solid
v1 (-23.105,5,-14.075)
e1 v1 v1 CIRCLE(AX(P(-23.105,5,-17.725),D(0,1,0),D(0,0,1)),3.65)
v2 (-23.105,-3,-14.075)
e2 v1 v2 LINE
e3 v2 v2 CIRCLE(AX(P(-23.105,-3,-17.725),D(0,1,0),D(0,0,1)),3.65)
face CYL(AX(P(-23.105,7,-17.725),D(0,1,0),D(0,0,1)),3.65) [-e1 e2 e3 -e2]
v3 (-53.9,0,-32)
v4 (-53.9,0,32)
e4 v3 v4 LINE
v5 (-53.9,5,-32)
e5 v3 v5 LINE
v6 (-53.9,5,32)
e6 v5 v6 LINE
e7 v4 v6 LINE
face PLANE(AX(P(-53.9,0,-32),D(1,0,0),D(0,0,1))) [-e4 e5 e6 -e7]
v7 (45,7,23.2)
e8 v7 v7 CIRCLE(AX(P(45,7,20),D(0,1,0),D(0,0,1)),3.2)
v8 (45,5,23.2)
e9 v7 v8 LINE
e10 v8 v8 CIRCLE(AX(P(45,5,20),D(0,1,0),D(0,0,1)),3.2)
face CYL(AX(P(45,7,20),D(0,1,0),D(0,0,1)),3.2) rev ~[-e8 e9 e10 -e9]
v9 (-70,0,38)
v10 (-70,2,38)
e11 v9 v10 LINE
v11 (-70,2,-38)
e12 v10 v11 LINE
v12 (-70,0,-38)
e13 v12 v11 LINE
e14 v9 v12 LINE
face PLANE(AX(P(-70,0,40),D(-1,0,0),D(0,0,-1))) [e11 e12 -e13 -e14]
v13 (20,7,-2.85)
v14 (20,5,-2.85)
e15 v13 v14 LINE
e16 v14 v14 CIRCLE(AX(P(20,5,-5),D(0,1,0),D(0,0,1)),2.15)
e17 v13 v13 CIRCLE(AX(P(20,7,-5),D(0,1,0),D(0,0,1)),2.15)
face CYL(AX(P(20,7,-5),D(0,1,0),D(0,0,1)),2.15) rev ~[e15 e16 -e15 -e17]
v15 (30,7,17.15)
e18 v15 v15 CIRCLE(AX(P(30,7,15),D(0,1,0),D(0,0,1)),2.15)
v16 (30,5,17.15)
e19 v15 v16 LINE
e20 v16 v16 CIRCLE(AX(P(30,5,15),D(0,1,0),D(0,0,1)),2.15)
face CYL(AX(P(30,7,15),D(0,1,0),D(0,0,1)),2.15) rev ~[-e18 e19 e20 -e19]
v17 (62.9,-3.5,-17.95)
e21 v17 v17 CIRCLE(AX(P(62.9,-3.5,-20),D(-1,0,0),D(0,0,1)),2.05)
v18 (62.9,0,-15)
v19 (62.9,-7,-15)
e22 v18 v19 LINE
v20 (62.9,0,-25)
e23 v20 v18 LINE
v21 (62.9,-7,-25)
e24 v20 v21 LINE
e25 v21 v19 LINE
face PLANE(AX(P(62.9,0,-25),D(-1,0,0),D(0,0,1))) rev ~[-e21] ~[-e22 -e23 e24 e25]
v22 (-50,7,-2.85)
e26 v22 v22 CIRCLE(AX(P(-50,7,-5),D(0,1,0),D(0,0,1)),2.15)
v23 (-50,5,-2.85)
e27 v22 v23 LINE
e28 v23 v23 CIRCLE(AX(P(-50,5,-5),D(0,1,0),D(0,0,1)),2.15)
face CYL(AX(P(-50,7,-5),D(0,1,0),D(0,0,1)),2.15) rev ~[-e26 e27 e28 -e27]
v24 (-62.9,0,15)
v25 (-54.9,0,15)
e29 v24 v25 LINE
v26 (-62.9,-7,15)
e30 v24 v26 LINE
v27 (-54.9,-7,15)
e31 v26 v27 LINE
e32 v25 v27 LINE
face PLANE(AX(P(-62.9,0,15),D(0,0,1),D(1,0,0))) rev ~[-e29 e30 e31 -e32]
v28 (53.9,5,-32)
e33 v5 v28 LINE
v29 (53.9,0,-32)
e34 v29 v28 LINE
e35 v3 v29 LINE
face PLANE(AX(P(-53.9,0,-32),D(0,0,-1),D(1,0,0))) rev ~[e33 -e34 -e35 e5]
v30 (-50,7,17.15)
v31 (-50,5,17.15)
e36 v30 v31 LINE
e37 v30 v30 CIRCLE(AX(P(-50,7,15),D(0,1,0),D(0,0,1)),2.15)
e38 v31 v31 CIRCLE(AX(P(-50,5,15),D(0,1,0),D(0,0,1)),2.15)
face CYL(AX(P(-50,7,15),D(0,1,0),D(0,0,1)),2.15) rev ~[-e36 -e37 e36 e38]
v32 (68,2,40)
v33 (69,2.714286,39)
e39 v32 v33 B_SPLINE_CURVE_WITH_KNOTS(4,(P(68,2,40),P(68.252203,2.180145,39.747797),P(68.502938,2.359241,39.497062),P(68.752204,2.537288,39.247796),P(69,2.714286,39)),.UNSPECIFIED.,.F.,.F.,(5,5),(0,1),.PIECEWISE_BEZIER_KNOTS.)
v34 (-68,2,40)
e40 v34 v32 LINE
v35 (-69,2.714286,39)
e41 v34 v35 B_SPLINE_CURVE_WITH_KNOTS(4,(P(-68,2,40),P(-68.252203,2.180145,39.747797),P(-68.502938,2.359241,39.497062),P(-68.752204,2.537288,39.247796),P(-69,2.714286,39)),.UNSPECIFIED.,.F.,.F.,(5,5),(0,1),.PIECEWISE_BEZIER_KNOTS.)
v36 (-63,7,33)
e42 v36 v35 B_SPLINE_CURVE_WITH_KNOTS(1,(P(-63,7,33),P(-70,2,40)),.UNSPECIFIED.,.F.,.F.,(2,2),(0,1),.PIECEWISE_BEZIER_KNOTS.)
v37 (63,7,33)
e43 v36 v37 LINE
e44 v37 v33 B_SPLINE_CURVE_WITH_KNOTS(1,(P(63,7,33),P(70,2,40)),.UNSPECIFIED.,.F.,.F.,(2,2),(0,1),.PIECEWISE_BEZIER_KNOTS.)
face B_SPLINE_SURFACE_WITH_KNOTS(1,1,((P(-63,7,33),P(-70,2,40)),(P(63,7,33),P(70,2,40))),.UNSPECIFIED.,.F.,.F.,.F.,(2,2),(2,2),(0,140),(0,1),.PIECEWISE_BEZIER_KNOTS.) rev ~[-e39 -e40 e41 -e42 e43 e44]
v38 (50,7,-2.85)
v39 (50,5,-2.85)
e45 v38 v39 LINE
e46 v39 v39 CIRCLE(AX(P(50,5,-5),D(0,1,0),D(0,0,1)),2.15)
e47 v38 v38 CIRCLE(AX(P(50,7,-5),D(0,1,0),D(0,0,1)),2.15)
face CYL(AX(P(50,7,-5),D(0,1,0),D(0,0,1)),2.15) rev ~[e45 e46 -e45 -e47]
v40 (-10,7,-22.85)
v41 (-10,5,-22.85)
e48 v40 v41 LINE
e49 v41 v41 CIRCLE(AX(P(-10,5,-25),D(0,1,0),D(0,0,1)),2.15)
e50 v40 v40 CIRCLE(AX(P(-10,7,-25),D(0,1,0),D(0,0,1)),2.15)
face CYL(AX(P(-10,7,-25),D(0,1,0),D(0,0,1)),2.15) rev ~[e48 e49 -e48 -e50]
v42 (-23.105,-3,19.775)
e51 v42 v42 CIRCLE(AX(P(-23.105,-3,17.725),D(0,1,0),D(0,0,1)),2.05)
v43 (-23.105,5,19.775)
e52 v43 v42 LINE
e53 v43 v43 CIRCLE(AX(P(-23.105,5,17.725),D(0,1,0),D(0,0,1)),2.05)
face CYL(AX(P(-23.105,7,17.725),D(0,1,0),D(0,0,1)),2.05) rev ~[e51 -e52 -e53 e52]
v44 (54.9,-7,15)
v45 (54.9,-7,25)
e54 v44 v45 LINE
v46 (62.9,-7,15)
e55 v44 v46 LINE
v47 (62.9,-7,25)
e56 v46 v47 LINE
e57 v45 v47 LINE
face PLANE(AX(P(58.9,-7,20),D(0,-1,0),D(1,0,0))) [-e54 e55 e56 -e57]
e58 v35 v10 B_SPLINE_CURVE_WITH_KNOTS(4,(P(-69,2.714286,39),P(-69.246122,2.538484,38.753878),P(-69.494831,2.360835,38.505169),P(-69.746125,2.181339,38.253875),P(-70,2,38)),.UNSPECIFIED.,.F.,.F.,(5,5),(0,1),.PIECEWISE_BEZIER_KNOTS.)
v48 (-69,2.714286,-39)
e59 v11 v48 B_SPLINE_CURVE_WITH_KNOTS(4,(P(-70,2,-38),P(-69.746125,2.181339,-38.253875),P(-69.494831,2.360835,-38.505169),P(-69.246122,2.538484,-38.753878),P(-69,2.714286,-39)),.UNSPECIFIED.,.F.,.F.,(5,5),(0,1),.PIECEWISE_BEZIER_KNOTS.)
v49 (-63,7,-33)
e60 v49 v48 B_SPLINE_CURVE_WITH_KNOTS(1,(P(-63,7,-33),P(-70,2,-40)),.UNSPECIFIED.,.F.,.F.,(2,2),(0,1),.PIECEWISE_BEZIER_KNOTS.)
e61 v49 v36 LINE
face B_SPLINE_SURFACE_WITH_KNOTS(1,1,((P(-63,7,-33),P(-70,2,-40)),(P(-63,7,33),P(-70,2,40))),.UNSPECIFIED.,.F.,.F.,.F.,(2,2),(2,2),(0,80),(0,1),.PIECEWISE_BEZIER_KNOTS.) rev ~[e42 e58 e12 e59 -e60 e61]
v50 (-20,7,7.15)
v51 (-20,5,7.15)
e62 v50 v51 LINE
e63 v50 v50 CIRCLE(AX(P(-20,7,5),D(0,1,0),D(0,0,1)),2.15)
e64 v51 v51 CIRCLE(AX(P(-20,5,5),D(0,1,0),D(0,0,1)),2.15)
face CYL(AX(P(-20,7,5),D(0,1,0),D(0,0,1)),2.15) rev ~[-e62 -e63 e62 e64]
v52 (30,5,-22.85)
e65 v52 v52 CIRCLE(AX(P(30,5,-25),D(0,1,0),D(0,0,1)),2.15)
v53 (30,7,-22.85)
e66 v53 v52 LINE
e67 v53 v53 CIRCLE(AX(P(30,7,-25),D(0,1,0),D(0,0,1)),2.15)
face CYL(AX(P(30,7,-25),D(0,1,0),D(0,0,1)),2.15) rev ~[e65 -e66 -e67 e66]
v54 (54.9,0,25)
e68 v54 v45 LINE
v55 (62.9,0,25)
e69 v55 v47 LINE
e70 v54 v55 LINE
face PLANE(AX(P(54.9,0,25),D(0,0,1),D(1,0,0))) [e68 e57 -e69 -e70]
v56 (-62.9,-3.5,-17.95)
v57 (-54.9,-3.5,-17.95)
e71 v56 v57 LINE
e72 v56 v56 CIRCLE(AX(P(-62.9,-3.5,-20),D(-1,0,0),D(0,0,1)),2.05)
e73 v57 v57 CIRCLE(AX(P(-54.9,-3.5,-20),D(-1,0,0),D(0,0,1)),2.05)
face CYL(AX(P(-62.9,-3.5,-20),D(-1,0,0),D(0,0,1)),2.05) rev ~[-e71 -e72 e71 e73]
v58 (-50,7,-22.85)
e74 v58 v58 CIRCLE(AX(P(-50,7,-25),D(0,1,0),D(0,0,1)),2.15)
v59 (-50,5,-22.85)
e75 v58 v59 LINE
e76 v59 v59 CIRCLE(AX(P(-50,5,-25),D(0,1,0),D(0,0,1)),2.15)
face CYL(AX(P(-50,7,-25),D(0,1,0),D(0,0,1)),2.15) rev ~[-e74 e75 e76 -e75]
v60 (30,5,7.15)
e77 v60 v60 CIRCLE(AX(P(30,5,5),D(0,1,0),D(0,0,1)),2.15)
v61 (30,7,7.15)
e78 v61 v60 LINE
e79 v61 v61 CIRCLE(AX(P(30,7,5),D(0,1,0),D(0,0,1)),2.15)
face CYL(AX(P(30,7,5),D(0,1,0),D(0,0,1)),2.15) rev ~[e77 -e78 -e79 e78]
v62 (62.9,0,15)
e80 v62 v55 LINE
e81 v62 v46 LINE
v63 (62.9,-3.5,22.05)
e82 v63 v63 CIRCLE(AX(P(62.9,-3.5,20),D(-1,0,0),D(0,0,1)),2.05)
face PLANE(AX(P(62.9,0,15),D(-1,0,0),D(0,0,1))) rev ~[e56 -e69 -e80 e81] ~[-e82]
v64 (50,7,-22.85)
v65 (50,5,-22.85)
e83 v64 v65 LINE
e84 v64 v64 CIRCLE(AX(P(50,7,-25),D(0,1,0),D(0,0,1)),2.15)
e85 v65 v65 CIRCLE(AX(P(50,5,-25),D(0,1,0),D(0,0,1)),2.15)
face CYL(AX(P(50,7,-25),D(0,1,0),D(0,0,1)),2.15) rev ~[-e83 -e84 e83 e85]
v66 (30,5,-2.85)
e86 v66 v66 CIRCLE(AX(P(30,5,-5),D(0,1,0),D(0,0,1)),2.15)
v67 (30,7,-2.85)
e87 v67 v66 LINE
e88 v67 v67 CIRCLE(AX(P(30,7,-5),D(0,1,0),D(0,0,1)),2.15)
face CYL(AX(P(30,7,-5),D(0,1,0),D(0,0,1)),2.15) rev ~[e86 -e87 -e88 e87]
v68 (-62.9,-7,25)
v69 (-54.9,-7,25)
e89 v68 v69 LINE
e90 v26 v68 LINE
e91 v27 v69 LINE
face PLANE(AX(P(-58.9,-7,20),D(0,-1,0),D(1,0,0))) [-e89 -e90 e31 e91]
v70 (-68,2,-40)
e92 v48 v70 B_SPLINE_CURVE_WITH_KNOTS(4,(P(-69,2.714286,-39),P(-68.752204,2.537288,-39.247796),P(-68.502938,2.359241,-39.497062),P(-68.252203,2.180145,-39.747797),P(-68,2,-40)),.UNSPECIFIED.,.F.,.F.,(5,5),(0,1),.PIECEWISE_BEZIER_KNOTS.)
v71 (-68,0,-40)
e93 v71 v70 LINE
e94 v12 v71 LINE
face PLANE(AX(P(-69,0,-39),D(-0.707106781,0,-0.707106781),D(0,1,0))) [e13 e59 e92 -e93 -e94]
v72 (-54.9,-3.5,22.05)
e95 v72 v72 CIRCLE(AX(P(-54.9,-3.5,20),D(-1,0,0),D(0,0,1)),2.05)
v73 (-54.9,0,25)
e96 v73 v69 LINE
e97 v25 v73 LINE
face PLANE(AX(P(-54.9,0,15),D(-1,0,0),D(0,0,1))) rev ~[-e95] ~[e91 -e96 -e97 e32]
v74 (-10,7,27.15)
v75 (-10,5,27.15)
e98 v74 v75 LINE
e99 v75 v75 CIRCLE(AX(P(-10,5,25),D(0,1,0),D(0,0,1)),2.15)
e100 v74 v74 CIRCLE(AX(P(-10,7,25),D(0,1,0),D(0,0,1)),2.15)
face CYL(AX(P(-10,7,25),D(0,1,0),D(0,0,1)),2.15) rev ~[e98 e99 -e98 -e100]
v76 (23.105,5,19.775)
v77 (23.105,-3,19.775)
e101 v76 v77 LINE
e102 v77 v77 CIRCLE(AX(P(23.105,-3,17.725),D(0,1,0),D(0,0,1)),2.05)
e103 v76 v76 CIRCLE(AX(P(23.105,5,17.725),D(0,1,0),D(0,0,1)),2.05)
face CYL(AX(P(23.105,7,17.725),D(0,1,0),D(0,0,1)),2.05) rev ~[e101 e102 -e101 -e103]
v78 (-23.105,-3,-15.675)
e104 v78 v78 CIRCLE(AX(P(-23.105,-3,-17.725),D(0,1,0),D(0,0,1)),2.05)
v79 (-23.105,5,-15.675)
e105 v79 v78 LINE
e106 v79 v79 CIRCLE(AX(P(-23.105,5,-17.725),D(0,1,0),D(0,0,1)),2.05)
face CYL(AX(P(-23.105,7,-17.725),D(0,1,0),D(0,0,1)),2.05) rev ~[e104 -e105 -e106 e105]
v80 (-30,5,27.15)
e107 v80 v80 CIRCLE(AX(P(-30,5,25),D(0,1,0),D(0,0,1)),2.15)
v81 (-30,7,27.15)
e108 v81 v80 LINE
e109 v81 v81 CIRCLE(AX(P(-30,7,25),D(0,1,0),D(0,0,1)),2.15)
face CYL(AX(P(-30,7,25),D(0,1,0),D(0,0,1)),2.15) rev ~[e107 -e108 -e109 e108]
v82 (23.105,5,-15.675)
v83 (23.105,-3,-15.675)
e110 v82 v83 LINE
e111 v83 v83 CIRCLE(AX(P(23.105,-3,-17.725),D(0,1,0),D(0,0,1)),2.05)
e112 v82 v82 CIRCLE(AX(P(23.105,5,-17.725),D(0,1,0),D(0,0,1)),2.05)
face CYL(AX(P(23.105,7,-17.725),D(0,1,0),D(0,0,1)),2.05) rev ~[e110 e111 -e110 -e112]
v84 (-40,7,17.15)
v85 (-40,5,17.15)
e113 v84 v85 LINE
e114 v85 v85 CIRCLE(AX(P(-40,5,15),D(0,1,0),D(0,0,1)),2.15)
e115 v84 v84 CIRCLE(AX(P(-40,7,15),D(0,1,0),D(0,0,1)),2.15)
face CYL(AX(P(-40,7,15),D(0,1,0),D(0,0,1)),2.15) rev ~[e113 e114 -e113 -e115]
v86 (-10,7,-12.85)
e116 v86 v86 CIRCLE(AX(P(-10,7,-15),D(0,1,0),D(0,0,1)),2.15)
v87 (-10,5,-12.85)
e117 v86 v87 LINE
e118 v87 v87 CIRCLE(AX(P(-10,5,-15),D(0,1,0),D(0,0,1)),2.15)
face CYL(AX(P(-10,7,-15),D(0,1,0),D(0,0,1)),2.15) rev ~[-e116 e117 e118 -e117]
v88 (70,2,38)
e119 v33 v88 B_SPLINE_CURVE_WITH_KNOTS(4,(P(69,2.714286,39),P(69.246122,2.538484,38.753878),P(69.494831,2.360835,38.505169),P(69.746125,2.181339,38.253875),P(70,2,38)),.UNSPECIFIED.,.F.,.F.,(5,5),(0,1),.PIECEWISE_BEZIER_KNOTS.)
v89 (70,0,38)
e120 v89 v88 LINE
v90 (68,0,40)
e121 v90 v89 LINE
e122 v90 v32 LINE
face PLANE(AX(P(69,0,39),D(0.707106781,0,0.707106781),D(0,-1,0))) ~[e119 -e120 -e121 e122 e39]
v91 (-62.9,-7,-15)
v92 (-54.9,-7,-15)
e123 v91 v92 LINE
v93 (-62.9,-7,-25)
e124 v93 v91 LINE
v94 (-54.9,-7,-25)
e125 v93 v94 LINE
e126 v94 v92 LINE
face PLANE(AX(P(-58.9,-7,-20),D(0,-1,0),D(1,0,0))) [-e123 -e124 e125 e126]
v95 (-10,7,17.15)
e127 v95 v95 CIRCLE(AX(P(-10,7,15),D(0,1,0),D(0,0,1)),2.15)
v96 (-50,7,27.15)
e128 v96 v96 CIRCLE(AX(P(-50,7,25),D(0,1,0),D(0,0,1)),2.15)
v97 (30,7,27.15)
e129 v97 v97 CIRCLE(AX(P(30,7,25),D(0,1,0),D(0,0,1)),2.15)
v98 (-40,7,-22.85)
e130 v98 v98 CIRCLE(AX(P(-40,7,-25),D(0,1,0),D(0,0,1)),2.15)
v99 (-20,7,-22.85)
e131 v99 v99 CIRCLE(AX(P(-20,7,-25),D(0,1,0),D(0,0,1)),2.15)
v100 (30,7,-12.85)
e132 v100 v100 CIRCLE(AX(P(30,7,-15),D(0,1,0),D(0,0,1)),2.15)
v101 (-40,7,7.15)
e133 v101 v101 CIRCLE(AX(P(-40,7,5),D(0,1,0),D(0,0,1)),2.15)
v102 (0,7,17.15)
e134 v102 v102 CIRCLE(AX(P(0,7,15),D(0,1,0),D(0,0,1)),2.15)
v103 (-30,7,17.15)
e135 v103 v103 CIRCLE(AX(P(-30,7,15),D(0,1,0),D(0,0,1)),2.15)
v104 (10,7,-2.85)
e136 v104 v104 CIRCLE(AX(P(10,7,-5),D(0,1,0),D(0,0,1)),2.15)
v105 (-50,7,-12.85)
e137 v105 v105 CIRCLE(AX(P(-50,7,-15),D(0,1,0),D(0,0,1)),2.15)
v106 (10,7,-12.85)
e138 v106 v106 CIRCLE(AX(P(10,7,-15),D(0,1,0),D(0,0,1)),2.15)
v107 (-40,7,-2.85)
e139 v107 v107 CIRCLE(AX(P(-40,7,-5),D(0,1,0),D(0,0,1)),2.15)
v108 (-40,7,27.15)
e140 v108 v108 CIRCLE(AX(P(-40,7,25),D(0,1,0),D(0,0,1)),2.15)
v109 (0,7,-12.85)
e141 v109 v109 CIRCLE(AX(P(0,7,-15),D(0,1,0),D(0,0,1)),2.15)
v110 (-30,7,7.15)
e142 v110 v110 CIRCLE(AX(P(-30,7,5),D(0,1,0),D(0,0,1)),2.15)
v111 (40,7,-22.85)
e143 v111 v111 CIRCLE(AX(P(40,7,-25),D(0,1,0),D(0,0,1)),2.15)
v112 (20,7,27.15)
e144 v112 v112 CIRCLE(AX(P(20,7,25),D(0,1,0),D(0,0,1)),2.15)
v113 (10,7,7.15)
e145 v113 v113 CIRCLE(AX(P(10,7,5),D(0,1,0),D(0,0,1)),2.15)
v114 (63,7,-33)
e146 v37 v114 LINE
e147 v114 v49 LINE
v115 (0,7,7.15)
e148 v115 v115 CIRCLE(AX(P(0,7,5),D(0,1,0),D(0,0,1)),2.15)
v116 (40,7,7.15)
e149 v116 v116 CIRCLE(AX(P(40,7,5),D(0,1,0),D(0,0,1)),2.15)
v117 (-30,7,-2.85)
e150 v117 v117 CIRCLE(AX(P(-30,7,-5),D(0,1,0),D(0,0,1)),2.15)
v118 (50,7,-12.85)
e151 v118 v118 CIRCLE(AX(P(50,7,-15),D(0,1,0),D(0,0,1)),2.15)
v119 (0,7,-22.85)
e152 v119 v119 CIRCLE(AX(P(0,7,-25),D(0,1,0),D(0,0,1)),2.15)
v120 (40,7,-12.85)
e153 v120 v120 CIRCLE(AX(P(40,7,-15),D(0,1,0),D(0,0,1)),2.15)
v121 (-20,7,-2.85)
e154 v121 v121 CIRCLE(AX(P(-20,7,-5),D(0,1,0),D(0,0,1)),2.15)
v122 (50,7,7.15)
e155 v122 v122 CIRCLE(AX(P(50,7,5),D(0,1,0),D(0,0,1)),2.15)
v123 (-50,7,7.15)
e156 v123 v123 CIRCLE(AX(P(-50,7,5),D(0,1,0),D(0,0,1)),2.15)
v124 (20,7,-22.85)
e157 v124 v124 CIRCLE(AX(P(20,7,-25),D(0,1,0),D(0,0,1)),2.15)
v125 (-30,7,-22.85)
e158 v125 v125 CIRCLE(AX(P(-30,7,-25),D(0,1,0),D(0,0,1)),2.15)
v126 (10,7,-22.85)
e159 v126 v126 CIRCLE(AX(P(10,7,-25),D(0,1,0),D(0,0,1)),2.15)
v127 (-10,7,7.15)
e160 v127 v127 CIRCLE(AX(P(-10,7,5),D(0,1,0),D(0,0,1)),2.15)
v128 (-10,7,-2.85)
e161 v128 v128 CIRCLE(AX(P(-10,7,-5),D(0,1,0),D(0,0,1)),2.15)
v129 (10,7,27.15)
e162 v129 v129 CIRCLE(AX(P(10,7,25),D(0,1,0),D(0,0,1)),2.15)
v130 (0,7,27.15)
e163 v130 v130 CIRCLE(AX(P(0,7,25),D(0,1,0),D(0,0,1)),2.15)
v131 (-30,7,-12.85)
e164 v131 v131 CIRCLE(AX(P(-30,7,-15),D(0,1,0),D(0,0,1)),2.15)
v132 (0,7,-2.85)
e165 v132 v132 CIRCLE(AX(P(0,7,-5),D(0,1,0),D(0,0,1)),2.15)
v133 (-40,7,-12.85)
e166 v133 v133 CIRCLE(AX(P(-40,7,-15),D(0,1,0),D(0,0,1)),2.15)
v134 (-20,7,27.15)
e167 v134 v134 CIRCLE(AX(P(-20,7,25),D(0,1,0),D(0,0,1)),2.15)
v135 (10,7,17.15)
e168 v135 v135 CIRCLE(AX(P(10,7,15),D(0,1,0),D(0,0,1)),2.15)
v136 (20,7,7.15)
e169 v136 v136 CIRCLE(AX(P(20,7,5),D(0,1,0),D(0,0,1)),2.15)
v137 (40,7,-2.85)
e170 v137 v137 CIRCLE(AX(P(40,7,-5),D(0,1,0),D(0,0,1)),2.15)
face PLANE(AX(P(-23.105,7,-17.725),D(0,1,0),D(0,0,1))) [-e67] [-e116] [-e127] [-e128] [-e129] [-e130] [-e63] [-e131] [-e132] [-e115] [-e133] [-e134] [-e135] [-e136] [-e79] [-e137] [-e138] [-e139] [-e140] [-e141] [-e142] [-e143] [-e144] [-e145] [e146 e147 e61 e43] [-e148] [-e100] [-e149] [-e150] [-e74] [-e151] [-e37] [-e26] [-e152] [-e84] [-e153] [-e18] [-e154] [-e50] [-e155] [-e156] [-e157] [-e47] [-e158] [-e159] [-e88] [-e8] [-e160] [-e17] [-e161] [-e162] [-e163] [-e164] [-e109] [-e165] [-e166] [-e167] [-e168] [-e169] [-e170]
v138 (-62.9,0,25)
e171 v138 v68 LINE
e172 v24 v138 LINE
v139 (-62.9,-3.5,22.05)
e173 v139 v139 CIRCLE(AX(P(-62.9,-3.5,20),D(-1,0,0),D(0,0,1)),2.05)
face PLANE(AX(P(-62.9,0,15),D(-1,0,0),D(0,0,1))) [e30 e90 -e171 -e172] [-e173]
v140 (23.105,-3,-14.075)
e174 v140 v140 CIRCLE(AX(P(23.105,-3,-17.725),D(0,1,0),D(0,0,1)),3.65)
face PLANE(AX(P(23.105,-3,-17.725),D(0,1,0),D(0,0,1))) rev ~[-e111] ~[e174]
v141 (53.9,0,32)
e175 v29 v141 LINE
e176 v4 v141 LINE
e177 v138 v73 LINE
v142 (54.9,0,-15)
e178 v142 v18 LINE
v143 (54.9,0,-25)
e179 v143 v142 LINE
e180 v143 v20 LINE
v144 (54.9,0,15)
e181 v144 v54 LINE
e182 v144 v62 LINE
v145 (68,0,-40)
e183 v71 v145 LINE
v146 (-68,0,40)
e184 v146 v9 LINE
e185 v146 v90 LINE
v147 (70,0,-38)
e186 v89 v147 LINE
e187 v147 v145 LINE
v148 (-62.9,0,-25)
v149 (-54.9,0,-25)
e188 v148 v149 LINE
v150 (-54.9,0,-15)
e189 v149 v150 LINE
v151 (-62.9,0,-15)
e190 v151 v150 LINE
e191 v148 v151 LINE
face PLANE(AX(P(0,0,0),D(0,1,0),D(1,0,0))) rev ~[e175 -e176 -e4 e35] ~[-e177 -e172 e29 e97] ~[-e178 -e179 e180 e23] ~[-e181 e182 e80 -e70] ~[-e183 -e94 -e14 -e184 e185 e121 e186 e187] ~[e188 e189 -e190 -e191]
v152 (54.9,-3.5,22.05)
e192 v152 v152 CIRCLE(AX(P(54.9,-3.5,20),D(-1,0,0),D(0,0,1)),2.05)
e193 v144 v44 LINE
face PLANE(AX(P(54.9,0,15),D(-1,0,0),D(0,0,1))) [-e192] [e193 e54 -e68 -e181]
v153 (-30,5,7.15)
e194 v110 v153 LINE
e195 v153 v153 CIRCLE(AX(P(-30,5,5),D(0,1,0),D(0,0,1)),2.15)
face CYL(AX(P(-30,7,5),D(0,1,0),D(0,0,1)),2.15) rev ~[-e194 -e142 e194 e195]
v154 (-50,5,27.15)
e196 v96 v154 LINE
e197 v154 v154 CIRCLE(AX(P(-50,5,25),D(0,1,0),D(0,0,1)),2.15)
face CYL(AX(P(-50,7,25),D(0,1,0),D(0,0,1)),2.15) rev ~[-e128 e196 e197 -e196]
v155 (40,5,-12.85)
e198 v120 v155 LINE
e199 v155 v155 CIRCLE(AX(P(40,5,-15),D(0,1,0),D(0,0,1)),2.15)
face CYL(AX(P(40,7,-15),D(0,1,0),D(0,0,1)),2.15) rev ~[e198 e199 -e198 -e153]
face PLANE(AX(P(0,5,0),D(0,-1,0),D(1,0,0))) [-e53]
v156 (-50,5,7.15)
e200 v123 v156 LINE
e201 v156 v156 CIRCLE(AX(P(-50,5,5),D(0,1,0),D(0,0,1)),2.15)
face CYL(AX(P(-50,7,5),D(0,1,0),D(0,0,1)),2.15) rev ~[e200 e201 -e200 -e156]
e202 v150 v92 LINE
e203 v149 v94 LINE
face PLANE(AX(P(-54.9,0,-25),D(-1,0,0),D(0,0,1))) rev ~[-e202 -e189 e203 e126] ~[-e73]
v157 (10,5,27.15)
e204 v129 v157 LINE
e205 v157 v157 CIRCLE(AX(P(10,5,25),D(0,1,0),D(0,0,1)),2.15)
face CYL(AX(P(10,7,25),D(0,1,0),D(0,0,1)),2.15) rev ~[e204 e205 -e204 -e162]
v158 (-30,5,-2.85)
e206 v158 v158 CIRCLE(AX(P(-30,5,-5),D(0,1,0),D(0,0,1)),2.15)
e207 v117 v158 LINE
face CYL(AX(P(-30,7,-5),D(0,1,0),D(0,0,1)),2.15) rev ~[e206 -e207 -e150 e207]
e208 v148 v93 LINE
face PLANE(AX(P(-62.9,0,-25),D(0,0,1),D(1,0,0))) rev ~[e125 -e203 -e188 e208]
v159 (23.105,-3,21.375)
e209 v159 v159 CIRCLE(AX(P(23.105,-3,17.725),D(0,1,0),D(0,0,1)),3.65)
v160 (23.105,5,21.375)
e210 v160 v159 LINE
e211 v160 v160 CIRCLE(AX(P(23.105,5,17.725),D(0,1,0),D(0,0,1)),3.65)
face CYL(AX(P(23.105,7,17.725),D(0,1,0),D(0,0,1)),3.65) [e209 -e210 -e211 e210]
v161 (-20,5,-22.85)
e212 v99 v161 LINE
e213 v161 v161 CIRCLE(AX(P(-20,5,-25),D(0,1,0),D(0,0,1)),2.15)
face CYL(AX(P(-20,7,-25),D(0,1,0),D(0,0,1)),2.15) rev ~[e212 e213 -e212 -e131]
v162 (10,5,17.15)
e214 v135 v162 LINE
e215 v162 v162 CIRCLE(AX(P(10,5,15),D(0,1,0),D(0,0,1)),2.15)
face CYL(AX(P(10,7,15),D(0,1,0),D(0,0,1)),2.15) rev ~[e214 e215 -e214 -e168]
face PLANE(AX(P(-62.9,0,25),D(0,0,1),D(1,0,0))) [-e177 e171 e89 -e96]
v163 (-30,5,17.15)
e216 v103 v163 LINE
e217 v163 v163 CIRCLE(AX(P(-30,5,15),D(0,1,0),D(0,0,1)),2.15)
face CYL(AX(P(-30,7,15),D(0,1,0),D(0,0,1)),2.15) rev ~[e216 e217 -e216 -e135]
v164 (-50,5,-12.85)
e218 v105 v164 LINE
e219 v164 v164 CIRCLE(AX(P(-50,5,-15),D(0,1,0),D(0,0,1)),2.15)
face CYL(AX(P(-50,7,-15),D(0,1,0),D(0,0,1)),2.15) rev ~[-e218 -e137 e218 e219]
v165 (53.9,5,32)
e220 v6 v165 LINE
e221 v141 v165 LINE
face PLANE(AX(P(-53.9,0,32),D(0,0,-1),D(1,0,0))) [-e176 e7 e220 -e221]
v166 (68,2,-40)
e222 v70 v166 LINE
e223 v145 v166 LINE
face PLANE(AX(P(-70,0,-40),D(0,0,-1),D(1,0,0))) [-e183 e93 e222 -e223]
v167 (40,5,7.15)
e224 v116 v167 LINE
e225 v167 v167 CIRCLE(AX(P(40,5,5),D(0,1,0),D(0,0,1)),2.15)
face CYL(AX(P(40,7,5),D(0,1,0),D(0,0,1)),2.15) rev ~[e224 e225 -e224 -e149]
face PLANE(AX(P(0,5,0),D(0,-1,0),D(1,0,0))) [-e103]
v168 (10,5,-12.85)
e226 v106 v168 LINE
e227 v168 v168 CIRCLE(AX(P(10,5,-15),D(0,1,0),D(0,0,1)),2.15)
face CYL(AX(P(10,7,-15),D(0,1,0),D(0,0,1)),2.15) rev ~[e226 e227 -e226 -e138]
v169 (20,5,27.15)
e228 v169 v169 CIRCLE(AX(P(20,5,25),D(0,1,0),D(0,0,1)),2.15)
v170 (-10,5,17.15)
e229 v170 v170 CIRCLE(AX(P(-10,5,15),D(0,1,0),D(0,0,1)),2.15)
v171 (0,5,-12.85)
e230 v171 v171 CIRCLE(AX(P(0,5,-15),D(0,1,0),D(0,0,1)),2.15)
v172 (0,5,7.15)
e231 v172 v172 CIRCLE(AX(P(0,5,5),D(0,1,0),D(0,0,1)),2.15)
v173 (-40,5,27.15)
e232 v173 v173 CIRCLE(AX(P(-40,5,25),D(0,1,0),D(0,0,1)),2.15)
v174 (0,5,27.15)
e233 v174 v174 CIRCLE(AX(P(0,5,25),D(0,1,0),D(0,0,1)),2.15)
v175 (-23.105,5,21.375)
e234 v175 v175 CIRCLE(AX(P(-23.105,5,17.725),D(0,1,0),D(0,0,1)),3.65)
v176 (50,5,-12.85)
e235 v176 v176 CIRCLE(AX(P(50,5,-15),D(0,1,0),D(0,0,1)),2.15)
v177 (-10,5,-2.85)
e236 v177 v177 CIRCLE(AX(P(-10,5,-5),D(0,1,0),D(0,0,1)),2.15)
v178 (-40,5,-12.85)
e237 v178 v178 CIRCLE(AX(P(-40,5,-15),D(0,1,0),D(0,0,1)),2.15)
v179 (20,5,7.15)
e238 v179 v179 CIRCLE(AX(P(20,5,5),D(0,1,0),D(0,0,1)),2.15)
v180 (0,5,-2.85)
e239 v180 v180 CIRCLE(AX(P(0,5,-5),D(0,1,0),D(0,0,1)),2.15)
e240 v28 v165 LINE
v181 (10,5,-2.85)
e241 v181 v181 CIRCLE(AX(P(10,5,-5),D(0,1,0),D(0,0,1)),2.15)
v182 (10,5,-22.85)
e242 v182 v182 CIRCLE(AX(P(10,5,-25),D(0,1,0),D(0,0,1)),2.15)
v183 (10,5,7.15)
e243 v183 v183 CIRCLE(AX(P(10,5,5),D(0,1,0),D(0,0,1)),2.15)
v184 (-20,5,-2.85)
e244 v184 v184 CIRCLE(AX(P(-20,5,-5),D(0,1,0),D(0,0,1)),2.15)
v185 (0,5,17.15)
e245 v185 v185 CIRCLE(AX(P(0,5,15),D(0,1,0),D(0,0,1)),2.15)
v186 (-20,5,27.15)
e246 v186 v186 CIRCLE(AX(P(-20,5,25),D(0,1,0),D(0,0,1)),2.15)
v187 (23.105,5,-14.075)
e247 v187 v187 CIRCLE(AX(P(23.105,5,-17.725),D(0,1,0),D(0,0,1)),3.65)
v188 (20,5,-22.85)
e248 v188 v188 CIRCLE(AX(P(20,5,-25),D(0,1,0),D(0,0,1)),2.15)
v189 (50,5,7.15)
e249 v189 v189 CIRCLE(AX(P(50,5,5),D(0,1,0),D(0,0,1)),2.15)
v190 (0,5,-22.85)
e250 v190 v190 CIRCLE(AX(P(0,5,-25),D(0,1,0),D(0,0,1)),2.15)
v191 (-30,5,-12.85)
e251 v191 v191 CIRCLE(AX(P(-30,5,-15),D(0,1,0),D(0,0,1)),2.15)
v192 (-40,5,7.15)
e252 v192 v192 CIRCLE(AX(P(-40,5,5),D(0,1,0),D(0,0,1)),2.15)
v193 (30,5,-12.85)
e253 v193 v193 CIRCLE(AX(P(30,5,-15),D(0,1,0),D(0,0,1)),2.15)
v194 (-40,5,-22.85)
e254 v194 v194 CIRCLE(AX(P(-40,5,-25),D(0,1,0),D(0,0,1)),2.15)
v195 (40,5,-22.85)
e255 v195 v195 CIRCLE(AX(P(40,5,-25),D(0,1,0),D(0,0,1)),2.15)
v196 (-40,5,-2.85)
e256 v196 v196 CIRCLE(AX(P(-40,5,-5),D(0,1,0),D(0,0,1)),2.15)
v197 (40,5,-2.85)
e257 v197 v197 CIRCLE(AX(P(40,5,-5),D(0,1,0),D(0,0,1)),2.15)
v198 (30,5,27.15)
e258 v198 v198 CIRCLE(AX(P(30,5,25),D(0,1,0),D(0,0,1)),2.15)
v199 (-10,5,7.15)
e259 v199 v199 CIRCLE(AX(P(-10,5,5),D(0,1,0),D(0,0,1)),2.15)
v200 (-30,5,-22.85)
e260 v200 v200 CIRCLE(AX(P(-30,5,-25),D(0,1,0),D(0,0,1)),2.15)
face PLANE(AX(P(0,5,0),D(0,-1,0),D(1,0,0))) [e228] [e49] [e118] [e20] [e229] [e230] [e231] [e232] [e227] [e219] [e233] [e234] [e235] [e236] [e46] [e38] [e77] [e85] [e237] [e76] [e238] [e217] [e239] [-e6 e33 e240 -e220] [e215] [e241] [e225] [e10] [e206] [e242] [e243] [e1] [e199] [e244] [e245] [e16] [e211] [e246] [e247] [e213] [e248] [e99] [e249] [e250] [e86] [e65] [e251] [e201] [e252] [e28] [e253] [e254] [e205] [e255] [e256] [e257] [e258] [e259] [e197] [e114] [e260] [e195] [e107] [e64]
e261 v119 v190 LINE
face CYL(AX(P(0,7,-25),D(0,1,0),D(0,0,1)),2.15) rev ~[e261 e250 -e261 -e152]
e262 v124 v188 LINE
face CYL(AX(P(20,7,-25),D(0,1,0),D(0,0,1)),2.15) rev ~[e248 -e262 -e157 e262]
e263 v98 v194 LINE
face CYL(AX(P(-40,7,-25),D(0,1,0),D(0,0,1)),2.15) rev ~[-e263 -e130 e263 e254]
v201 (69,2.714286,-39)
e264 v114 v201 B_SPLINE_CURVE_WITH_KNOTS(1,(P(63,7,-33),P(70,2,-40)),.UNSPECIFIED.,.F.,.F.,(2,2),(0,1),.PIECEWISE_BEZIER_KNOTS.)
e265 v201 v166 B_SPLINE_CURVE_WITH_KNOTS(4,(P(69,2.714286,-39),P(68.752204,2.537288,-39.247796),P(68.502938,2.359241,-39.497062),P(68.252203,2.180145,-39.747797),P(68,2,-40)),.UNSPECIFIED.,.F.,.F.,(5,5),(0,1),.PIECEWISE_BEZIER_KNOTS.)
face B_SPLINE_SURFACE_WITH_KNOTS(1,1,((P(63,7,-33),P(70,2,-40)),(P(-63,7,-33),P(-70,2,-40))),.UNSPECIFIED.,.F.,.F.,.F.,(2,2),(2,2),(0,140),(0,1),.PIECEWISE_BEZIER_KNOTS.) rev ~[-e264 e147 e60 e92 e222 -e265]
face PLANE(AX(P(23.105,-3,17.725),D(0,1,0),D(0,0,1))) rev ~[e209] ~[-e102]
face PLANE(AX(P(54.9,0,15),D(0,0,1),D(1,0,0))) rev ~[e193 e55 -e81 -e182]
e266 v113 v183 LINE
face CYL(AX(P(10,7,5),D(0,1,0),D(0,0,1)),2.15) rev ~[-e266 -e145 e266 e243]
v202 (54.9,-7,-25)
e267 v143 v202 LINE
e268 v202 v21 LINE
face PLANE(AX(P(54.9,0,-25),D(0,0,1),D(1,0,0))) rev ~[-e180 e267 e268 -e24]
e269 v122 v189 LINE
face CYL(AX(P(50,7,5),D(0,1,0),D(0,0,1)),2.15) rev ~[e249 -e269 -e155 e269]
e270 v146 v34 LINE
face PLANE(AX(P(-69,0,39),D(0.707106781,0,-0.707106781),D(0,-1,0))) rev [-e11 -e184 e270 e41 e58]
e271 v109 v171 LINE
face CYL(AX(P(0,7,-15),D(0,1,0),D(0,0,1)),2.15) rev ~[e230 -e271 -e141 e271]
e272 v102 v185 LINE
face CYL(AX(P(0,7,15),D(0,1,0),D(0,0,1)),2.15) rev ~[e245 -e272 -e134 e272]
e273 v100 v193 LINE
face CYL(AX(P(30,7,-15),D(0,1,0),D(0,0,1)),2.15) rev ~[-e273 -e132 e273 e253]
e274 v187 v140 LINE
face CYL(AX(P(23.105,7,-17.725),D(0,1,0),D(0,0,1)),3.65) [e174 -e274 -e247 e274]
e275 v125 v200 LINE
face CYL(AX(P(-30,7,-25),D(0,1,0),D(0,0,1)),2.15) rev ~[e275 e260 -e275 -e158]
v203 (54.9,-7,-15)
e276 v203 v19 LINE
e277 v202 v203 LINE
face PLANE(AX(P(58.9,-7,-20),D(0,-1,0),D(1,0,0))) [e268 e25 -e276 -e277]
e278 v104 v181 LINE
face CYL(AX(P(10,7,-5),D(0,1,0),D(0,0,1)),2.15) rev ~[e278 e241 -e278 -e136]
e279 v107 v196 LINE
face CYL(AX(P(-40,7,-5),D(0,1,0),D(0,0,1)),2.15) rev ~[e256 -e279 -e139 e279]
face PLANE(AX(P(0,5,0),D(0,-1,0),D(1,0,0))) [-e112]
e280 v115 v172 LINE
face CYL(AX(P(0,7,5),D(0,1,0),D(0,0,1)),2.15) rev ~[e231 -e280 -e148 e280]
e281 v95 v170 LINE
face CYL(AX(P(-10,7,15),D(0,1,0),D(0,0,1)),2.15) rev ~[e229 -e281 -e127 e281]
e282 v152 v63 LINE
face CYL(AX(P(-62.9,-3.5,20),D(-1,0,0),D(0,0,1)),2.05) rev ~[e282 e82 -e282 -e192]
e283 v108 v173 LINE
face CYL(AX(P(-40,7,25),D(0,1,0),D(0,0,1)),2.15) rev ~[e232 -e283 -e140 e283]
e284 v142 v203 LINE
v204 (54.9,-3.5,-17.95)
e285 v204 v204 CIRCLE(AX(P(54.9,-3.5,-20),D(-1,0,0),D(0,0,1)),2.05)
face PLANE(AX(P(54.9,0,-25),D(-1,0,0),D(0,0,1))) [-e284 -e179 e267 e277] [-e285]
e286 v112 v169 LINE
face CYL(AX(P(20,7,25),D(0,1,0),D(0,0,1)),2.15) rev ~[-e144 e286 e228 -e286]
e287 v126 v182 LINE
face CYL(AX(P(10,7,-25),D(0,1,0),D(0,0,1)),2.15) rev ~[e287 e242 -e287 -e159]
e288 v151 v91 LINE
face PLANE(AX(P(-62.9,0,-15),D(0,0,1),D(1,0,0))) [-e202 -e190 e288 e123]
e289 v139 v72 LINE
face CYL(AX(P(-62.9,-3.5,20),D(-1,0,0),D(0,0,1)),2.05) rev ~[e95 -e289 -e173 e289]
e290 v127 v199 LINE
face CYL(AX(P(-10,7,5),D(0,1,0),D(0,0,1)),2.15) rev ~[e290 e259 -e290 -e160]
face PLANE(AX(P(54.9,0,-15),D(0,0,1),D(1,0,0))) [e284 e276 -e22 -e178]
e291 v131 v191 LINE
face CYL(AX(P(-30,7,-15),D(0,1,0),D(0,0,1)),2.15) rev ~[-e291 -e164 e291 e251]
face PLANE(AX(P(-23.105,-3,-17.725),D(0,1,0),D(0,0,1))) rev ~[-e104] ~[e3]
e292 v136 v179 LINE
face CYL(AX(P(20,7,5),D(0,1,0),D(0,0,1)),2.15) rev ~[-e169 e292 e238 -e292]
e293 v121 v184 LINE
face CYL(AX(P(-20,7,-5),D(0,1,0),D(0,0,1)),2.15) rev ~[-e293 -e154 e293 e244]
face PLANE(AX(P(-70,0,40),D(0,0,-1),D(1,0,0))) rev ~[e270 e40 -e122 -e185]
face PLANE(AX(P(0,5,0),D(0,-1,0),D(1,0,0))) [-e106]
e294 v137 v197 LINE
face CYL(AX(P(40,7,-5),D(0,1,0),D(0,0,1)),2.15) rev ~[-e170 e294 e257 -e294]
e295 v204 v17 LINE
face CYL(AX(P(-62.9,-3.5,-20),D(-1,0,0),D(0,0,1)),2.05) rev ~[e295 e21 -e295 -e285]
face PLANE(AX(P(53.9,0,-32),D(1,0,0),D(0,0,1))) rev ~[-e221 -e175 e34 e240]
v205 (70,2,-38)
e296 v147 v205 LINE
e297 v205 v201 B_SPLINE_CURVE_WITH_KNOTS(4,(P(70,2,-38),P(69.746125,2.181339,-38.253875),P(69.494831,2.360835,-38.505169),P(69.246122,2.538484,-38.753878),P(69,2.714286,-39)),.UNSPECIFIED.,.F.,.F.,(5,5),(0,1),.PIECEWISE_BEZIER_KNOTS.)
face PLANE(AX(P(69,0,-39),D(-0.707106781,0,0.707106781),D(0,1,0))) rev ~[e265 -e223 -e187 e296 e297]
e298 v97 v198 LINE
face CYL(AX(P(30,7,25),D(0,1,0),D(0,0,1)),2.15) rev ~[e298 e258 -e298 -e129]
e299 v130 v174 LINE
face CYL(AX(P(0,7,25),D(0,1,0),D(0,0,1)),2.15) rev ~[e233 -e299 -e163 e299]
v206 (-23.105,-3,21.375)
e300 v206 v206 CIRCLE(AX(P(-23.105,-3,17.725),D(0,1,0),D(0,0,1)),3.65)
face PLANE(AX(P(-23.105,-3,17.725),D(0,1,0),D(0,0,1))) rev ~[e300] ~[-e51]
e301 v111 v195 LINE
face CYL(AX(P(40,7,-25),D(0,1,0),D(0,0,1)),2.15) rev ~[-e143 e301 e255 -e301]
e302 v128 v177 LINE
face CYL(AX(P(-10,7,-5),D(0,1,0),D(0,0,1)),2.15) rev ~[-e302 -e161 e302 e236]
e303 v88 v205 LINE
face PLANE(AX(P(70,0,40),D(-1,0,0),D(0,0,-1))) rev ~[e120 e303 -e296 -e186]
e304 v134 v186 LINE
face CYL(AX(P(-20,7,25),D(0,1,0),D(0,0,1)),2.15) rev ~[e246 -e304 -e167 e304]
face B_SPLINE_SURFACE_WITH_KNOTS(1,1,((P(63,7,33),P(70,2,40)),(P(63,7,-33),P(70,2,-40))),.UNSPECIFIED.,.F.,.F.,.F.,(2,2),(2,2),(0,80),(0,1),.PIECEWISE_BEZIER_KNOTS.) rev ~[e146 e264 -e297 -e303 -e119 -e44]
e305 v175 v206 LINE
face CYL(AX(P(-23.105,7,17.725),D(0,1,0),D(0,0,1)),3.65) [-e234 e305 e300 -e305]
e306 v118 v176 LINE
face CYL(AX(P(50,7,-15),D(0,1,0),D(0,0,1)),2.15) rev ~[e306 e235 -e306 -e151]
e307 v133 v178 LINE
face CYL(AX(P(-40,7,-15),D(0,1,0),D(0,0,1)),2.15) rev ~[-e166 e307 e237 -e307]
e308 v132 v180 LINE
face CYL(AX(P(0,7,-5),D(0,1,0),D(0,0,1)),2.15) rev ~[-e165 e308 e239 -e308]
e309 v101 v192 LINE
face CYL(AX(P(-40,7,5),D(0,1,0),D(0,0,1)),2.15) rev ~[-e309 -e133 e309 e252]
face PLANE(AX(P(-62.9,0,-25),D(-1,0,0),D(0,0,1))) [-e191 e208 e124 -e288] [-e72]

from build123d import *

# Parameters (mm, degrees)
SKETCH1_W                       = 140
SKETCH1_H                       = 80
BOSS_EXTRUDE1_DEPTH             = 2
CHAMFER2_SIZE                   = 2
SKETCH4_W                       = 8
SKETCH4_H                       = 10
BOSS_EXTRUDE2_DEPTH             = 7
SKETCH5_R                       = 2.05
CUT_EXTRUDE1_DEPTH              = 139.965499445
SKETCH6_W                       = 107.8
SKETCH6_H                       = 64
CUT_EXTRUDE2_DEPTH              = 5
SKIZZE1_R                       = 2.15
SCHNITT_LINEAR_AUSTRAGEN2_DEPTH = 10
SKIZZE2_W                       = 14.3
SKIZZE2_H                       = 14.3
SKIZZE2_R                       = 3.2
AUFSATZ_LINEAR_AUSTRAGEN1_DEPTH = 2
SKIZZE2_4_R                     = 3.2
SCHNITT_LINEAR_AUSTRAGEN4_DEPTH = 10
SKIZZE5_R                       = 2.15
AUFSATZ_LINEAR_AUSTRAGEN2_DEPTH = 2
SKIZZE4_R                       = 3.65
SKIZZE4_R_2                     = 2.05
AUFSATZ_LINEAR_AUSTRAGEN3_DEPTH = 10


with BuildPart() as part:
    # Sketch1 → Boss-Extrude1 (new body)
    with BuildSketch(Plane(origin=(0, 0, 0), x_dir=(1, 0, 0), z_dir=(0, 1, 0))):
        Rectangle(SKETCH1_W, SKETCH1_H)
    extrude(amount=BOSS_EXTRUDE1_DEPTH)

    # Sketch3 → Loft1 section 0
    with BuildSketch(Plane(origin=(0, 7, 0), x_dir=(1, 0, 0), z_dir=(0, 1, 0))):
        with BuildLine():
            Line((-63, -33), (63, -33))
            Line((63, -33), (63, 33))
            Line((63, 33), (-63, 33))
            Line((-63, 33), (-63, -33))
        make_face()
    # Sketch2 → Loft1 section 1
    with BuildSketch(Plane(origin=(0, 2, 0), x_dir=(1, 0, 0), z_dir=(0, 1, 0))):
        with BuildLine():
            Line((70, -40), (70, 40))
            Line((70, 40), (-70, 40))
            Line((-70, 40), (-70, -40))
            Line((-70, -40), (70, -40))
        make_face()
    loft()

    # Chamfer2
    chamfer2_edges = [part.edges().sort_by_distance(p)[0] for p in [
        (70, 1, 40),
        (-70, 1, 40),
        (-70, 1, -40),
        (70, 1, -40),
    ]]
    chamfer(chamfer2_edges, length=CHAMFER2_SIZE)

    # Sketch4 → Boss-Extrude2 (add)
    with BuildSketch(Plane.XZ):
        with Locations((-58.9, 20)):
            Rectangle(SKETCH4_W, SKETCH4_H)
        with Locations((-58.9, -20)):
            Rectangle(SKETCH4_W, SKETCH4_H)
        with Locations((58.9, -20)):
            Rectangle(SKETCH4_W, SKETCH4_H)
        with Locations((58.9, 20)):
            Rectangle(SKETCH4_W, SKETCH4_H)
    extrude(amount=BOSS_EXTRUDE2_DEPTH)

    # Sketch5 → Cut-Extrude1 (cut, through all)
    with BuildSketch(Plane.ZY.offset(62.9)):
        with Locations((-20, -3.5)):
            Circle(SKETCH5_R)
        with Locations((20, -3.5)):
            Circle(SKETCH5_R)
    extrude(amount=-CUT_EXTRUDE1_DEPTH, mode=Mode.SUBTRACT)

    # Sketch6 → Cut-Extrude2 (cut)
    with BuildSketch(Plane.XZ):
        Rectangle(SKETCH6_W, SKETCH6_H)
    extrude(amount=-CUT_EXTRUDE2_DEPTH, mode=Mode.SUBTRACT)

    # Skizze1 → Schnitt-Linear austragen2 (cut)
    with BuildSketch(Plane(origin=(0, 7, 0), x_dir=(1, 0, 0), z_dir=(0, 1, 0))):
        with Locations(Location((-50, -25, 0), (0, 0, 270))):
            Circle(SKIZZE1_R)
        with Locations(Location((-40, -25, 0), (0, 0, 270))):
            Circle(SKIZZE1_R)
        with Locations(Location((-30, -25, 0), (0, 0, 270))):
            Circle(SKIZZE1_R)
        with Locations(Location((-20, -25, 0), (0, 0, 270))):
            Circle(SKIZZE1_R)
        with Locations(Location((-10, -25, 0), (0, 0, 270))):
            Circle(SKIZZE1_R)
        with Locations(Location((0, -25, 0), (0, 0, 270))):
            Circle(SKIZZE1_R)
        with Locations(Location((10, -25, 0), (0, 0, 270))):
            Circle(SKIZZE1_R)
        with Locations(Location((20, -25, 0), (0, 0, 270))):
            Circle(SKIZZE1_R)
        with Locations(Location((30, -25, 0), (0, 0, 270))):
            Circle(SKIZZE1_R)
        with Locations(Location((40, -25, 0), (0, 0, 270))):
            Circle(SKIZZE1_R)
        with Locations(Location((50, -25, 0), (0, 0, 270))):
            Circle(SKIZZE1_R)
        with Locations(Location((-40, -15, 0), (0, 0, 270))):
            Circle(SKIZZE1_R)
        with Locations(Location((-30, -15, 0), (0, 0, 270))):
            Circle(SKIZZE1_R)
        with Locations(Location((-20, -15, 0), (0, 0, 270))):
            Circle(SKIZZE1_R)
        with Locations(Location((-10, -15, 0), (0, 0, 270))):
            Circle(SKIZZE1_R)
        with Locations(Location((0, -15, 0), (0, 0, 270))):
            Circle(SKIZZE1_R)
        with Locations(Location((10, -15, 0), (0, 0, 270))):
            Circle(SKIZZE1_R)
        with Locations(Location((20, -15, 0), (0, 0, 270))):
            Circle(SKIZZE1_R)
        with Locations(Location((30, -15, 0), (0, 0, 270))):
            Circle(SKIZZE1_R)
        with Locations(Location((40, -15, 0), (0, 0, 270))):
            Circle(SKIZZE1_R)
        with Locations(Location((50, -15, 0), (0, 0, 270))):
            Circle(SKIZZE1_R)
        with Locations(Location((-40, -5, 0), (0, 0, 270))):
            Circle(SKIZZE1_R)
        with Locations(Location((-30, -5, 0), (0, 0, 270))):
            Circle(SKIZZE1_R)
        with Locations(Location((-20, -5, 0), (0, 0, 270))):
            Circle(SKIZZE1_R)
        with Locations(Location((-10, -5, 0), (0, 0, 270))):
            Circle(SKIZZE1_R)
        with Locations(Location((0, -5, 0), (0, 0, 270))):
            Circle(SKIZZE1_R)
        with Locations(Location((10, -5, 0), (0, 0, 270))):
            Circle(SKIZZE1_R)
        with Locations(Location((20, -5, 0), (0, 0, 270))):
            Circle(SKIZZE1_R)
        with Locations(Location((30, -5, 0), (0, 0, 270))):
            Circle(SKIZZE1_R)
        with Locations(Location((40, -5, 0), (0, 0, 270))):
            Circle(SKIZZE1_R)
        with Locations(Location((50, -5, 0), (0, 0, 270))):
            Circle(SKIZZE1_R)
        with Locations(Location((-40, 5, 0), (0, 0, 270))):
            Circle(SKIZZE1_R)
        with Locations(Location((-30, 5, 0), (0, 0, 270))):
            Circle(SKIZZE1_R)
        with Locations(Location((-20, 5, 0), (0, 0, 270))):
            Circle(SKIZZE1_R)
        with Locations(Location((-10, 5, 0), (0, 0, 270))):
            Circle(SKIZZE1_R)
        with Locations(Location((0, 5, 0), (0, 0, 270))):
            Circle(SKIZZE1_R)
        with Locations(Location((10, 5, 0), (0, 0, 270))):
            Circle(SKIZZE1_R)
        with Locations(Location((20, 5, 0), (0, 0, 270))):
            Circle(SKIZZE1_R)
        with Locations(Location((30, 5, 0), (0, 0, 270))):
            Circle(SKIZZE1_R)
        with Locations(Location((40, 5, 0), (0, 0, 270))):
            Circle(SKIZZE1_R)
        with Locations(Location((50, 5, 0), (0, 0, 270))):
            Circle(SKIZZE1_R)
        with Locations(Location((-40, 15, 0), (0, 0, 270))):
            Circle(SKIZZE1_R)
        with Locations(Location((-30, 15, 0), (0, 0, 270))):
            Circle(SKIZZE1_R)
        with Locations(Location((-20, 15, 0), (0, 0, 270))):
            Circle(SKIZZE1_R)
        with Locations(Location((-10, 15, 0), (0, 0, 270))):
            Circle(SKIZZE1_R)
        with Locations(Location((0, 15, 0), (0, 0, 270))):
            Circle(SKIZZE1_R)
        with Locations(Location((10, 15, 0), (0, 0, 270))):
            Circle(SKIZZE1_R)
        with Locations(Location((20, 15, 0), (0, 0, 270))):
            Circle(SKIZZE1_R)
        with Locations(Location((30, 15, 0), (0, 0, 270))):
            Circle(SKIZZE1_R)
        with Locations(Location((40, 15, 0), (0, 0, 270))):
            Circle(SKIZZE1_R)
        with Locations(Location((50, 15, 0), (0, 0, 270))):
            Circle(SKIZZE1_R)
        with Locations(Location((-40, 25, 0), (0, 0, 270))):
            Circle(SKIZZE1_R)
        with Locations(Location((-30, 25, 0), (0, 0, 270))):
            Circle(SKIZZE1_R)
        with Locations(Location((-20, 25, 0), (0, 0, 270))):
            Circle(SKIZZE1_R)
        with Locations(Location((-10, 25, 0), (0, 0, 270))):
            Circle(SKIZZE1_R)
        with Locations(Location((0, 25, 0), (0, 0, 270))):
            Circle(SKIZZE1_R)
        with Locations(Location((10, 25, 0), (0, 0, 270))):
            Circle(SKIZZE1_R)
        with Locations(Location((20, 25, 0), (0, 0, 270))):
            Circle(SKIZZE1_R)
        with Locations(Location((30, 25, 0), (0, 0, 270))):
            Circle(SKIZZE1_R)
        with Locations(Location((40, 25, 0), (0, 0, 270))):
            Circle(SKIZZE1_R)
        with Locations(Location((50, 25, 0), (0, 0, 270))):
            Circle(SKIZZE1_R)
        with Locations(Location((-50, -15, 0), (0, 0, 270))):
            Circle(SKIZZE1_R)
        with Locations(Location((-50, -5, 0), (0, 0, 270))):
            Circle(SKIZZE1_R)
        with Locations(Location((-50, 5, 0), (0, 0, 270))):
            Circle(SKIZZE1_R)
        with Locations(Location((-50, 15, 0), (0, 0, 270))):
            Circle(SKIZZE1_R)
        with Locations(Location((-50, 25, 0), (0, 0, 270))):
            Circle(SKIZZE1_R)
    extrude(amount=-SCHNITT_LINEAR_AUSTRAGEN2_DEPTH, mode=Mode.SUBTRACT)

    # Skizze2 → Aufsatz-Linear austragen1 (add)
    with BuildSketch(Plane(origin=(0, 7, 0), x_dir=(1, 0, 0), z_dir=(0, 1, 0))):
        with Locations((45, -20)):
            Rectangle(SKIZZE2_W, SKIZZE2_H)
        with Locations((45, -20)):
            Circle(SKIZZE2_R, mode=Mode.SUBTRACT)
    extrude(amount=-AUFSATZ_LINEAR_AUSTRAGEN1_DEPTH)

    # Skizze2<4> → Schnitt-Linear austragen4 (cut)
    with BuildSketch(Plane(origin=(0, 7, 0), x_dir=(1, 0, 0), z_dir=(0, 1, 0))):
        with Locations(Location((45, -20, 0), (0, 0, 270))):
            Circle(SKIZZE2_4_R)
    extrude(amount=-SCHNITT_LINEAR_AUSTRAGEN4_DEPTH, mode=Mode.SUBTRACT)

    # Skizze5 → Aufsatz-Linear austragen2 (add)
    with BuildSketch(Plane(origin=(0, 7, 0), x_dir=(1, 0, 0), z_dir=(0, 1, 0))):
        with Locations((20, -15)):
            Circle(SKIZZE5_R)
        with Locations((20, 15)):
            Circle(SKIZZE5_R)
        with Locations((-20, 15)):
            Circle(SKIZZE5_R)
        with Locations((-20, -15)):
            Circle(SKIZZE5_R)
    extrude(amount=-AUFSATZ_LINEAR_AUSTRAGEN2_DEPTH)

    # Skizze4 → Aufsatz-Linear austragen3 (add)
    # profile 1 of 4: a face of its own
    with BuildSketch(Plane(origin=(0, 7, 0), x_dir=(1, 0, 0), z_dir=(0, 1, 0))):
        with Locations(Location((-23.105, 17.725, 0), (0, 0, 270))):
            Circle(SKIZZE4_R)
        with Locations(Location((-23.105, 17.725, 0), (0, 0, 270))):
            Circle(SKIZZE4_R_2, mode=Mode.SUBTRACT)
    # profile 2 of 4: a face of its own
    with BuildSketch(Plane(origin=(0, 7, 0), x_dir=(1, 0, 0), z_dir=(0, 1, 0))):
        with Locations(Location((23.105, 17.725, 0), (0, 0, 270))):
            Circle(SKIZZE4_R)
        with Locations(Location((23.105, 17.725, 0), (0, 0, 270))):
            Circle(SKIZZE4_R_2, mode=Mode.SUBTRACT)
    # profile 3 of 4: a face of its own
    with BuildSketch(Plane(origin=(0, 7, 0), x_dir=(1, 0, 0), z_dir=(0, 1, 0))):
        with Locations(Location((23.105, -17.725, 0), (0, 0, 270))):
            Circle(SKIZZE4_R)
        with Locations(Location((23.105, -17.725, 0), (0, 0, 270))):
            Circle(SKIZZE4_R_2, mode=Mode.SUBTRACT)
    # profile 4 of 4: a face of its own
    with BuildSketch(Plane(origin=(0, 7, 0), x_dir=(1, 0, 0), z_dir=(0, 1, 0))):
        with Locations(Location((-23.105, -17.725, 0), (0, 0, 270))):
            Circle(SKIZZE4_R)
        with Locations(Location((-23.105, -17.725, 0), (0, 0, 270))):
            Circle(SKIZZE4_R_2, mode=Mode.SUBTRACT)
    extrude(amount=-AUFSATZ_LINEAR_AUSTRAGEN3_DEPTH)


solid = part.part
